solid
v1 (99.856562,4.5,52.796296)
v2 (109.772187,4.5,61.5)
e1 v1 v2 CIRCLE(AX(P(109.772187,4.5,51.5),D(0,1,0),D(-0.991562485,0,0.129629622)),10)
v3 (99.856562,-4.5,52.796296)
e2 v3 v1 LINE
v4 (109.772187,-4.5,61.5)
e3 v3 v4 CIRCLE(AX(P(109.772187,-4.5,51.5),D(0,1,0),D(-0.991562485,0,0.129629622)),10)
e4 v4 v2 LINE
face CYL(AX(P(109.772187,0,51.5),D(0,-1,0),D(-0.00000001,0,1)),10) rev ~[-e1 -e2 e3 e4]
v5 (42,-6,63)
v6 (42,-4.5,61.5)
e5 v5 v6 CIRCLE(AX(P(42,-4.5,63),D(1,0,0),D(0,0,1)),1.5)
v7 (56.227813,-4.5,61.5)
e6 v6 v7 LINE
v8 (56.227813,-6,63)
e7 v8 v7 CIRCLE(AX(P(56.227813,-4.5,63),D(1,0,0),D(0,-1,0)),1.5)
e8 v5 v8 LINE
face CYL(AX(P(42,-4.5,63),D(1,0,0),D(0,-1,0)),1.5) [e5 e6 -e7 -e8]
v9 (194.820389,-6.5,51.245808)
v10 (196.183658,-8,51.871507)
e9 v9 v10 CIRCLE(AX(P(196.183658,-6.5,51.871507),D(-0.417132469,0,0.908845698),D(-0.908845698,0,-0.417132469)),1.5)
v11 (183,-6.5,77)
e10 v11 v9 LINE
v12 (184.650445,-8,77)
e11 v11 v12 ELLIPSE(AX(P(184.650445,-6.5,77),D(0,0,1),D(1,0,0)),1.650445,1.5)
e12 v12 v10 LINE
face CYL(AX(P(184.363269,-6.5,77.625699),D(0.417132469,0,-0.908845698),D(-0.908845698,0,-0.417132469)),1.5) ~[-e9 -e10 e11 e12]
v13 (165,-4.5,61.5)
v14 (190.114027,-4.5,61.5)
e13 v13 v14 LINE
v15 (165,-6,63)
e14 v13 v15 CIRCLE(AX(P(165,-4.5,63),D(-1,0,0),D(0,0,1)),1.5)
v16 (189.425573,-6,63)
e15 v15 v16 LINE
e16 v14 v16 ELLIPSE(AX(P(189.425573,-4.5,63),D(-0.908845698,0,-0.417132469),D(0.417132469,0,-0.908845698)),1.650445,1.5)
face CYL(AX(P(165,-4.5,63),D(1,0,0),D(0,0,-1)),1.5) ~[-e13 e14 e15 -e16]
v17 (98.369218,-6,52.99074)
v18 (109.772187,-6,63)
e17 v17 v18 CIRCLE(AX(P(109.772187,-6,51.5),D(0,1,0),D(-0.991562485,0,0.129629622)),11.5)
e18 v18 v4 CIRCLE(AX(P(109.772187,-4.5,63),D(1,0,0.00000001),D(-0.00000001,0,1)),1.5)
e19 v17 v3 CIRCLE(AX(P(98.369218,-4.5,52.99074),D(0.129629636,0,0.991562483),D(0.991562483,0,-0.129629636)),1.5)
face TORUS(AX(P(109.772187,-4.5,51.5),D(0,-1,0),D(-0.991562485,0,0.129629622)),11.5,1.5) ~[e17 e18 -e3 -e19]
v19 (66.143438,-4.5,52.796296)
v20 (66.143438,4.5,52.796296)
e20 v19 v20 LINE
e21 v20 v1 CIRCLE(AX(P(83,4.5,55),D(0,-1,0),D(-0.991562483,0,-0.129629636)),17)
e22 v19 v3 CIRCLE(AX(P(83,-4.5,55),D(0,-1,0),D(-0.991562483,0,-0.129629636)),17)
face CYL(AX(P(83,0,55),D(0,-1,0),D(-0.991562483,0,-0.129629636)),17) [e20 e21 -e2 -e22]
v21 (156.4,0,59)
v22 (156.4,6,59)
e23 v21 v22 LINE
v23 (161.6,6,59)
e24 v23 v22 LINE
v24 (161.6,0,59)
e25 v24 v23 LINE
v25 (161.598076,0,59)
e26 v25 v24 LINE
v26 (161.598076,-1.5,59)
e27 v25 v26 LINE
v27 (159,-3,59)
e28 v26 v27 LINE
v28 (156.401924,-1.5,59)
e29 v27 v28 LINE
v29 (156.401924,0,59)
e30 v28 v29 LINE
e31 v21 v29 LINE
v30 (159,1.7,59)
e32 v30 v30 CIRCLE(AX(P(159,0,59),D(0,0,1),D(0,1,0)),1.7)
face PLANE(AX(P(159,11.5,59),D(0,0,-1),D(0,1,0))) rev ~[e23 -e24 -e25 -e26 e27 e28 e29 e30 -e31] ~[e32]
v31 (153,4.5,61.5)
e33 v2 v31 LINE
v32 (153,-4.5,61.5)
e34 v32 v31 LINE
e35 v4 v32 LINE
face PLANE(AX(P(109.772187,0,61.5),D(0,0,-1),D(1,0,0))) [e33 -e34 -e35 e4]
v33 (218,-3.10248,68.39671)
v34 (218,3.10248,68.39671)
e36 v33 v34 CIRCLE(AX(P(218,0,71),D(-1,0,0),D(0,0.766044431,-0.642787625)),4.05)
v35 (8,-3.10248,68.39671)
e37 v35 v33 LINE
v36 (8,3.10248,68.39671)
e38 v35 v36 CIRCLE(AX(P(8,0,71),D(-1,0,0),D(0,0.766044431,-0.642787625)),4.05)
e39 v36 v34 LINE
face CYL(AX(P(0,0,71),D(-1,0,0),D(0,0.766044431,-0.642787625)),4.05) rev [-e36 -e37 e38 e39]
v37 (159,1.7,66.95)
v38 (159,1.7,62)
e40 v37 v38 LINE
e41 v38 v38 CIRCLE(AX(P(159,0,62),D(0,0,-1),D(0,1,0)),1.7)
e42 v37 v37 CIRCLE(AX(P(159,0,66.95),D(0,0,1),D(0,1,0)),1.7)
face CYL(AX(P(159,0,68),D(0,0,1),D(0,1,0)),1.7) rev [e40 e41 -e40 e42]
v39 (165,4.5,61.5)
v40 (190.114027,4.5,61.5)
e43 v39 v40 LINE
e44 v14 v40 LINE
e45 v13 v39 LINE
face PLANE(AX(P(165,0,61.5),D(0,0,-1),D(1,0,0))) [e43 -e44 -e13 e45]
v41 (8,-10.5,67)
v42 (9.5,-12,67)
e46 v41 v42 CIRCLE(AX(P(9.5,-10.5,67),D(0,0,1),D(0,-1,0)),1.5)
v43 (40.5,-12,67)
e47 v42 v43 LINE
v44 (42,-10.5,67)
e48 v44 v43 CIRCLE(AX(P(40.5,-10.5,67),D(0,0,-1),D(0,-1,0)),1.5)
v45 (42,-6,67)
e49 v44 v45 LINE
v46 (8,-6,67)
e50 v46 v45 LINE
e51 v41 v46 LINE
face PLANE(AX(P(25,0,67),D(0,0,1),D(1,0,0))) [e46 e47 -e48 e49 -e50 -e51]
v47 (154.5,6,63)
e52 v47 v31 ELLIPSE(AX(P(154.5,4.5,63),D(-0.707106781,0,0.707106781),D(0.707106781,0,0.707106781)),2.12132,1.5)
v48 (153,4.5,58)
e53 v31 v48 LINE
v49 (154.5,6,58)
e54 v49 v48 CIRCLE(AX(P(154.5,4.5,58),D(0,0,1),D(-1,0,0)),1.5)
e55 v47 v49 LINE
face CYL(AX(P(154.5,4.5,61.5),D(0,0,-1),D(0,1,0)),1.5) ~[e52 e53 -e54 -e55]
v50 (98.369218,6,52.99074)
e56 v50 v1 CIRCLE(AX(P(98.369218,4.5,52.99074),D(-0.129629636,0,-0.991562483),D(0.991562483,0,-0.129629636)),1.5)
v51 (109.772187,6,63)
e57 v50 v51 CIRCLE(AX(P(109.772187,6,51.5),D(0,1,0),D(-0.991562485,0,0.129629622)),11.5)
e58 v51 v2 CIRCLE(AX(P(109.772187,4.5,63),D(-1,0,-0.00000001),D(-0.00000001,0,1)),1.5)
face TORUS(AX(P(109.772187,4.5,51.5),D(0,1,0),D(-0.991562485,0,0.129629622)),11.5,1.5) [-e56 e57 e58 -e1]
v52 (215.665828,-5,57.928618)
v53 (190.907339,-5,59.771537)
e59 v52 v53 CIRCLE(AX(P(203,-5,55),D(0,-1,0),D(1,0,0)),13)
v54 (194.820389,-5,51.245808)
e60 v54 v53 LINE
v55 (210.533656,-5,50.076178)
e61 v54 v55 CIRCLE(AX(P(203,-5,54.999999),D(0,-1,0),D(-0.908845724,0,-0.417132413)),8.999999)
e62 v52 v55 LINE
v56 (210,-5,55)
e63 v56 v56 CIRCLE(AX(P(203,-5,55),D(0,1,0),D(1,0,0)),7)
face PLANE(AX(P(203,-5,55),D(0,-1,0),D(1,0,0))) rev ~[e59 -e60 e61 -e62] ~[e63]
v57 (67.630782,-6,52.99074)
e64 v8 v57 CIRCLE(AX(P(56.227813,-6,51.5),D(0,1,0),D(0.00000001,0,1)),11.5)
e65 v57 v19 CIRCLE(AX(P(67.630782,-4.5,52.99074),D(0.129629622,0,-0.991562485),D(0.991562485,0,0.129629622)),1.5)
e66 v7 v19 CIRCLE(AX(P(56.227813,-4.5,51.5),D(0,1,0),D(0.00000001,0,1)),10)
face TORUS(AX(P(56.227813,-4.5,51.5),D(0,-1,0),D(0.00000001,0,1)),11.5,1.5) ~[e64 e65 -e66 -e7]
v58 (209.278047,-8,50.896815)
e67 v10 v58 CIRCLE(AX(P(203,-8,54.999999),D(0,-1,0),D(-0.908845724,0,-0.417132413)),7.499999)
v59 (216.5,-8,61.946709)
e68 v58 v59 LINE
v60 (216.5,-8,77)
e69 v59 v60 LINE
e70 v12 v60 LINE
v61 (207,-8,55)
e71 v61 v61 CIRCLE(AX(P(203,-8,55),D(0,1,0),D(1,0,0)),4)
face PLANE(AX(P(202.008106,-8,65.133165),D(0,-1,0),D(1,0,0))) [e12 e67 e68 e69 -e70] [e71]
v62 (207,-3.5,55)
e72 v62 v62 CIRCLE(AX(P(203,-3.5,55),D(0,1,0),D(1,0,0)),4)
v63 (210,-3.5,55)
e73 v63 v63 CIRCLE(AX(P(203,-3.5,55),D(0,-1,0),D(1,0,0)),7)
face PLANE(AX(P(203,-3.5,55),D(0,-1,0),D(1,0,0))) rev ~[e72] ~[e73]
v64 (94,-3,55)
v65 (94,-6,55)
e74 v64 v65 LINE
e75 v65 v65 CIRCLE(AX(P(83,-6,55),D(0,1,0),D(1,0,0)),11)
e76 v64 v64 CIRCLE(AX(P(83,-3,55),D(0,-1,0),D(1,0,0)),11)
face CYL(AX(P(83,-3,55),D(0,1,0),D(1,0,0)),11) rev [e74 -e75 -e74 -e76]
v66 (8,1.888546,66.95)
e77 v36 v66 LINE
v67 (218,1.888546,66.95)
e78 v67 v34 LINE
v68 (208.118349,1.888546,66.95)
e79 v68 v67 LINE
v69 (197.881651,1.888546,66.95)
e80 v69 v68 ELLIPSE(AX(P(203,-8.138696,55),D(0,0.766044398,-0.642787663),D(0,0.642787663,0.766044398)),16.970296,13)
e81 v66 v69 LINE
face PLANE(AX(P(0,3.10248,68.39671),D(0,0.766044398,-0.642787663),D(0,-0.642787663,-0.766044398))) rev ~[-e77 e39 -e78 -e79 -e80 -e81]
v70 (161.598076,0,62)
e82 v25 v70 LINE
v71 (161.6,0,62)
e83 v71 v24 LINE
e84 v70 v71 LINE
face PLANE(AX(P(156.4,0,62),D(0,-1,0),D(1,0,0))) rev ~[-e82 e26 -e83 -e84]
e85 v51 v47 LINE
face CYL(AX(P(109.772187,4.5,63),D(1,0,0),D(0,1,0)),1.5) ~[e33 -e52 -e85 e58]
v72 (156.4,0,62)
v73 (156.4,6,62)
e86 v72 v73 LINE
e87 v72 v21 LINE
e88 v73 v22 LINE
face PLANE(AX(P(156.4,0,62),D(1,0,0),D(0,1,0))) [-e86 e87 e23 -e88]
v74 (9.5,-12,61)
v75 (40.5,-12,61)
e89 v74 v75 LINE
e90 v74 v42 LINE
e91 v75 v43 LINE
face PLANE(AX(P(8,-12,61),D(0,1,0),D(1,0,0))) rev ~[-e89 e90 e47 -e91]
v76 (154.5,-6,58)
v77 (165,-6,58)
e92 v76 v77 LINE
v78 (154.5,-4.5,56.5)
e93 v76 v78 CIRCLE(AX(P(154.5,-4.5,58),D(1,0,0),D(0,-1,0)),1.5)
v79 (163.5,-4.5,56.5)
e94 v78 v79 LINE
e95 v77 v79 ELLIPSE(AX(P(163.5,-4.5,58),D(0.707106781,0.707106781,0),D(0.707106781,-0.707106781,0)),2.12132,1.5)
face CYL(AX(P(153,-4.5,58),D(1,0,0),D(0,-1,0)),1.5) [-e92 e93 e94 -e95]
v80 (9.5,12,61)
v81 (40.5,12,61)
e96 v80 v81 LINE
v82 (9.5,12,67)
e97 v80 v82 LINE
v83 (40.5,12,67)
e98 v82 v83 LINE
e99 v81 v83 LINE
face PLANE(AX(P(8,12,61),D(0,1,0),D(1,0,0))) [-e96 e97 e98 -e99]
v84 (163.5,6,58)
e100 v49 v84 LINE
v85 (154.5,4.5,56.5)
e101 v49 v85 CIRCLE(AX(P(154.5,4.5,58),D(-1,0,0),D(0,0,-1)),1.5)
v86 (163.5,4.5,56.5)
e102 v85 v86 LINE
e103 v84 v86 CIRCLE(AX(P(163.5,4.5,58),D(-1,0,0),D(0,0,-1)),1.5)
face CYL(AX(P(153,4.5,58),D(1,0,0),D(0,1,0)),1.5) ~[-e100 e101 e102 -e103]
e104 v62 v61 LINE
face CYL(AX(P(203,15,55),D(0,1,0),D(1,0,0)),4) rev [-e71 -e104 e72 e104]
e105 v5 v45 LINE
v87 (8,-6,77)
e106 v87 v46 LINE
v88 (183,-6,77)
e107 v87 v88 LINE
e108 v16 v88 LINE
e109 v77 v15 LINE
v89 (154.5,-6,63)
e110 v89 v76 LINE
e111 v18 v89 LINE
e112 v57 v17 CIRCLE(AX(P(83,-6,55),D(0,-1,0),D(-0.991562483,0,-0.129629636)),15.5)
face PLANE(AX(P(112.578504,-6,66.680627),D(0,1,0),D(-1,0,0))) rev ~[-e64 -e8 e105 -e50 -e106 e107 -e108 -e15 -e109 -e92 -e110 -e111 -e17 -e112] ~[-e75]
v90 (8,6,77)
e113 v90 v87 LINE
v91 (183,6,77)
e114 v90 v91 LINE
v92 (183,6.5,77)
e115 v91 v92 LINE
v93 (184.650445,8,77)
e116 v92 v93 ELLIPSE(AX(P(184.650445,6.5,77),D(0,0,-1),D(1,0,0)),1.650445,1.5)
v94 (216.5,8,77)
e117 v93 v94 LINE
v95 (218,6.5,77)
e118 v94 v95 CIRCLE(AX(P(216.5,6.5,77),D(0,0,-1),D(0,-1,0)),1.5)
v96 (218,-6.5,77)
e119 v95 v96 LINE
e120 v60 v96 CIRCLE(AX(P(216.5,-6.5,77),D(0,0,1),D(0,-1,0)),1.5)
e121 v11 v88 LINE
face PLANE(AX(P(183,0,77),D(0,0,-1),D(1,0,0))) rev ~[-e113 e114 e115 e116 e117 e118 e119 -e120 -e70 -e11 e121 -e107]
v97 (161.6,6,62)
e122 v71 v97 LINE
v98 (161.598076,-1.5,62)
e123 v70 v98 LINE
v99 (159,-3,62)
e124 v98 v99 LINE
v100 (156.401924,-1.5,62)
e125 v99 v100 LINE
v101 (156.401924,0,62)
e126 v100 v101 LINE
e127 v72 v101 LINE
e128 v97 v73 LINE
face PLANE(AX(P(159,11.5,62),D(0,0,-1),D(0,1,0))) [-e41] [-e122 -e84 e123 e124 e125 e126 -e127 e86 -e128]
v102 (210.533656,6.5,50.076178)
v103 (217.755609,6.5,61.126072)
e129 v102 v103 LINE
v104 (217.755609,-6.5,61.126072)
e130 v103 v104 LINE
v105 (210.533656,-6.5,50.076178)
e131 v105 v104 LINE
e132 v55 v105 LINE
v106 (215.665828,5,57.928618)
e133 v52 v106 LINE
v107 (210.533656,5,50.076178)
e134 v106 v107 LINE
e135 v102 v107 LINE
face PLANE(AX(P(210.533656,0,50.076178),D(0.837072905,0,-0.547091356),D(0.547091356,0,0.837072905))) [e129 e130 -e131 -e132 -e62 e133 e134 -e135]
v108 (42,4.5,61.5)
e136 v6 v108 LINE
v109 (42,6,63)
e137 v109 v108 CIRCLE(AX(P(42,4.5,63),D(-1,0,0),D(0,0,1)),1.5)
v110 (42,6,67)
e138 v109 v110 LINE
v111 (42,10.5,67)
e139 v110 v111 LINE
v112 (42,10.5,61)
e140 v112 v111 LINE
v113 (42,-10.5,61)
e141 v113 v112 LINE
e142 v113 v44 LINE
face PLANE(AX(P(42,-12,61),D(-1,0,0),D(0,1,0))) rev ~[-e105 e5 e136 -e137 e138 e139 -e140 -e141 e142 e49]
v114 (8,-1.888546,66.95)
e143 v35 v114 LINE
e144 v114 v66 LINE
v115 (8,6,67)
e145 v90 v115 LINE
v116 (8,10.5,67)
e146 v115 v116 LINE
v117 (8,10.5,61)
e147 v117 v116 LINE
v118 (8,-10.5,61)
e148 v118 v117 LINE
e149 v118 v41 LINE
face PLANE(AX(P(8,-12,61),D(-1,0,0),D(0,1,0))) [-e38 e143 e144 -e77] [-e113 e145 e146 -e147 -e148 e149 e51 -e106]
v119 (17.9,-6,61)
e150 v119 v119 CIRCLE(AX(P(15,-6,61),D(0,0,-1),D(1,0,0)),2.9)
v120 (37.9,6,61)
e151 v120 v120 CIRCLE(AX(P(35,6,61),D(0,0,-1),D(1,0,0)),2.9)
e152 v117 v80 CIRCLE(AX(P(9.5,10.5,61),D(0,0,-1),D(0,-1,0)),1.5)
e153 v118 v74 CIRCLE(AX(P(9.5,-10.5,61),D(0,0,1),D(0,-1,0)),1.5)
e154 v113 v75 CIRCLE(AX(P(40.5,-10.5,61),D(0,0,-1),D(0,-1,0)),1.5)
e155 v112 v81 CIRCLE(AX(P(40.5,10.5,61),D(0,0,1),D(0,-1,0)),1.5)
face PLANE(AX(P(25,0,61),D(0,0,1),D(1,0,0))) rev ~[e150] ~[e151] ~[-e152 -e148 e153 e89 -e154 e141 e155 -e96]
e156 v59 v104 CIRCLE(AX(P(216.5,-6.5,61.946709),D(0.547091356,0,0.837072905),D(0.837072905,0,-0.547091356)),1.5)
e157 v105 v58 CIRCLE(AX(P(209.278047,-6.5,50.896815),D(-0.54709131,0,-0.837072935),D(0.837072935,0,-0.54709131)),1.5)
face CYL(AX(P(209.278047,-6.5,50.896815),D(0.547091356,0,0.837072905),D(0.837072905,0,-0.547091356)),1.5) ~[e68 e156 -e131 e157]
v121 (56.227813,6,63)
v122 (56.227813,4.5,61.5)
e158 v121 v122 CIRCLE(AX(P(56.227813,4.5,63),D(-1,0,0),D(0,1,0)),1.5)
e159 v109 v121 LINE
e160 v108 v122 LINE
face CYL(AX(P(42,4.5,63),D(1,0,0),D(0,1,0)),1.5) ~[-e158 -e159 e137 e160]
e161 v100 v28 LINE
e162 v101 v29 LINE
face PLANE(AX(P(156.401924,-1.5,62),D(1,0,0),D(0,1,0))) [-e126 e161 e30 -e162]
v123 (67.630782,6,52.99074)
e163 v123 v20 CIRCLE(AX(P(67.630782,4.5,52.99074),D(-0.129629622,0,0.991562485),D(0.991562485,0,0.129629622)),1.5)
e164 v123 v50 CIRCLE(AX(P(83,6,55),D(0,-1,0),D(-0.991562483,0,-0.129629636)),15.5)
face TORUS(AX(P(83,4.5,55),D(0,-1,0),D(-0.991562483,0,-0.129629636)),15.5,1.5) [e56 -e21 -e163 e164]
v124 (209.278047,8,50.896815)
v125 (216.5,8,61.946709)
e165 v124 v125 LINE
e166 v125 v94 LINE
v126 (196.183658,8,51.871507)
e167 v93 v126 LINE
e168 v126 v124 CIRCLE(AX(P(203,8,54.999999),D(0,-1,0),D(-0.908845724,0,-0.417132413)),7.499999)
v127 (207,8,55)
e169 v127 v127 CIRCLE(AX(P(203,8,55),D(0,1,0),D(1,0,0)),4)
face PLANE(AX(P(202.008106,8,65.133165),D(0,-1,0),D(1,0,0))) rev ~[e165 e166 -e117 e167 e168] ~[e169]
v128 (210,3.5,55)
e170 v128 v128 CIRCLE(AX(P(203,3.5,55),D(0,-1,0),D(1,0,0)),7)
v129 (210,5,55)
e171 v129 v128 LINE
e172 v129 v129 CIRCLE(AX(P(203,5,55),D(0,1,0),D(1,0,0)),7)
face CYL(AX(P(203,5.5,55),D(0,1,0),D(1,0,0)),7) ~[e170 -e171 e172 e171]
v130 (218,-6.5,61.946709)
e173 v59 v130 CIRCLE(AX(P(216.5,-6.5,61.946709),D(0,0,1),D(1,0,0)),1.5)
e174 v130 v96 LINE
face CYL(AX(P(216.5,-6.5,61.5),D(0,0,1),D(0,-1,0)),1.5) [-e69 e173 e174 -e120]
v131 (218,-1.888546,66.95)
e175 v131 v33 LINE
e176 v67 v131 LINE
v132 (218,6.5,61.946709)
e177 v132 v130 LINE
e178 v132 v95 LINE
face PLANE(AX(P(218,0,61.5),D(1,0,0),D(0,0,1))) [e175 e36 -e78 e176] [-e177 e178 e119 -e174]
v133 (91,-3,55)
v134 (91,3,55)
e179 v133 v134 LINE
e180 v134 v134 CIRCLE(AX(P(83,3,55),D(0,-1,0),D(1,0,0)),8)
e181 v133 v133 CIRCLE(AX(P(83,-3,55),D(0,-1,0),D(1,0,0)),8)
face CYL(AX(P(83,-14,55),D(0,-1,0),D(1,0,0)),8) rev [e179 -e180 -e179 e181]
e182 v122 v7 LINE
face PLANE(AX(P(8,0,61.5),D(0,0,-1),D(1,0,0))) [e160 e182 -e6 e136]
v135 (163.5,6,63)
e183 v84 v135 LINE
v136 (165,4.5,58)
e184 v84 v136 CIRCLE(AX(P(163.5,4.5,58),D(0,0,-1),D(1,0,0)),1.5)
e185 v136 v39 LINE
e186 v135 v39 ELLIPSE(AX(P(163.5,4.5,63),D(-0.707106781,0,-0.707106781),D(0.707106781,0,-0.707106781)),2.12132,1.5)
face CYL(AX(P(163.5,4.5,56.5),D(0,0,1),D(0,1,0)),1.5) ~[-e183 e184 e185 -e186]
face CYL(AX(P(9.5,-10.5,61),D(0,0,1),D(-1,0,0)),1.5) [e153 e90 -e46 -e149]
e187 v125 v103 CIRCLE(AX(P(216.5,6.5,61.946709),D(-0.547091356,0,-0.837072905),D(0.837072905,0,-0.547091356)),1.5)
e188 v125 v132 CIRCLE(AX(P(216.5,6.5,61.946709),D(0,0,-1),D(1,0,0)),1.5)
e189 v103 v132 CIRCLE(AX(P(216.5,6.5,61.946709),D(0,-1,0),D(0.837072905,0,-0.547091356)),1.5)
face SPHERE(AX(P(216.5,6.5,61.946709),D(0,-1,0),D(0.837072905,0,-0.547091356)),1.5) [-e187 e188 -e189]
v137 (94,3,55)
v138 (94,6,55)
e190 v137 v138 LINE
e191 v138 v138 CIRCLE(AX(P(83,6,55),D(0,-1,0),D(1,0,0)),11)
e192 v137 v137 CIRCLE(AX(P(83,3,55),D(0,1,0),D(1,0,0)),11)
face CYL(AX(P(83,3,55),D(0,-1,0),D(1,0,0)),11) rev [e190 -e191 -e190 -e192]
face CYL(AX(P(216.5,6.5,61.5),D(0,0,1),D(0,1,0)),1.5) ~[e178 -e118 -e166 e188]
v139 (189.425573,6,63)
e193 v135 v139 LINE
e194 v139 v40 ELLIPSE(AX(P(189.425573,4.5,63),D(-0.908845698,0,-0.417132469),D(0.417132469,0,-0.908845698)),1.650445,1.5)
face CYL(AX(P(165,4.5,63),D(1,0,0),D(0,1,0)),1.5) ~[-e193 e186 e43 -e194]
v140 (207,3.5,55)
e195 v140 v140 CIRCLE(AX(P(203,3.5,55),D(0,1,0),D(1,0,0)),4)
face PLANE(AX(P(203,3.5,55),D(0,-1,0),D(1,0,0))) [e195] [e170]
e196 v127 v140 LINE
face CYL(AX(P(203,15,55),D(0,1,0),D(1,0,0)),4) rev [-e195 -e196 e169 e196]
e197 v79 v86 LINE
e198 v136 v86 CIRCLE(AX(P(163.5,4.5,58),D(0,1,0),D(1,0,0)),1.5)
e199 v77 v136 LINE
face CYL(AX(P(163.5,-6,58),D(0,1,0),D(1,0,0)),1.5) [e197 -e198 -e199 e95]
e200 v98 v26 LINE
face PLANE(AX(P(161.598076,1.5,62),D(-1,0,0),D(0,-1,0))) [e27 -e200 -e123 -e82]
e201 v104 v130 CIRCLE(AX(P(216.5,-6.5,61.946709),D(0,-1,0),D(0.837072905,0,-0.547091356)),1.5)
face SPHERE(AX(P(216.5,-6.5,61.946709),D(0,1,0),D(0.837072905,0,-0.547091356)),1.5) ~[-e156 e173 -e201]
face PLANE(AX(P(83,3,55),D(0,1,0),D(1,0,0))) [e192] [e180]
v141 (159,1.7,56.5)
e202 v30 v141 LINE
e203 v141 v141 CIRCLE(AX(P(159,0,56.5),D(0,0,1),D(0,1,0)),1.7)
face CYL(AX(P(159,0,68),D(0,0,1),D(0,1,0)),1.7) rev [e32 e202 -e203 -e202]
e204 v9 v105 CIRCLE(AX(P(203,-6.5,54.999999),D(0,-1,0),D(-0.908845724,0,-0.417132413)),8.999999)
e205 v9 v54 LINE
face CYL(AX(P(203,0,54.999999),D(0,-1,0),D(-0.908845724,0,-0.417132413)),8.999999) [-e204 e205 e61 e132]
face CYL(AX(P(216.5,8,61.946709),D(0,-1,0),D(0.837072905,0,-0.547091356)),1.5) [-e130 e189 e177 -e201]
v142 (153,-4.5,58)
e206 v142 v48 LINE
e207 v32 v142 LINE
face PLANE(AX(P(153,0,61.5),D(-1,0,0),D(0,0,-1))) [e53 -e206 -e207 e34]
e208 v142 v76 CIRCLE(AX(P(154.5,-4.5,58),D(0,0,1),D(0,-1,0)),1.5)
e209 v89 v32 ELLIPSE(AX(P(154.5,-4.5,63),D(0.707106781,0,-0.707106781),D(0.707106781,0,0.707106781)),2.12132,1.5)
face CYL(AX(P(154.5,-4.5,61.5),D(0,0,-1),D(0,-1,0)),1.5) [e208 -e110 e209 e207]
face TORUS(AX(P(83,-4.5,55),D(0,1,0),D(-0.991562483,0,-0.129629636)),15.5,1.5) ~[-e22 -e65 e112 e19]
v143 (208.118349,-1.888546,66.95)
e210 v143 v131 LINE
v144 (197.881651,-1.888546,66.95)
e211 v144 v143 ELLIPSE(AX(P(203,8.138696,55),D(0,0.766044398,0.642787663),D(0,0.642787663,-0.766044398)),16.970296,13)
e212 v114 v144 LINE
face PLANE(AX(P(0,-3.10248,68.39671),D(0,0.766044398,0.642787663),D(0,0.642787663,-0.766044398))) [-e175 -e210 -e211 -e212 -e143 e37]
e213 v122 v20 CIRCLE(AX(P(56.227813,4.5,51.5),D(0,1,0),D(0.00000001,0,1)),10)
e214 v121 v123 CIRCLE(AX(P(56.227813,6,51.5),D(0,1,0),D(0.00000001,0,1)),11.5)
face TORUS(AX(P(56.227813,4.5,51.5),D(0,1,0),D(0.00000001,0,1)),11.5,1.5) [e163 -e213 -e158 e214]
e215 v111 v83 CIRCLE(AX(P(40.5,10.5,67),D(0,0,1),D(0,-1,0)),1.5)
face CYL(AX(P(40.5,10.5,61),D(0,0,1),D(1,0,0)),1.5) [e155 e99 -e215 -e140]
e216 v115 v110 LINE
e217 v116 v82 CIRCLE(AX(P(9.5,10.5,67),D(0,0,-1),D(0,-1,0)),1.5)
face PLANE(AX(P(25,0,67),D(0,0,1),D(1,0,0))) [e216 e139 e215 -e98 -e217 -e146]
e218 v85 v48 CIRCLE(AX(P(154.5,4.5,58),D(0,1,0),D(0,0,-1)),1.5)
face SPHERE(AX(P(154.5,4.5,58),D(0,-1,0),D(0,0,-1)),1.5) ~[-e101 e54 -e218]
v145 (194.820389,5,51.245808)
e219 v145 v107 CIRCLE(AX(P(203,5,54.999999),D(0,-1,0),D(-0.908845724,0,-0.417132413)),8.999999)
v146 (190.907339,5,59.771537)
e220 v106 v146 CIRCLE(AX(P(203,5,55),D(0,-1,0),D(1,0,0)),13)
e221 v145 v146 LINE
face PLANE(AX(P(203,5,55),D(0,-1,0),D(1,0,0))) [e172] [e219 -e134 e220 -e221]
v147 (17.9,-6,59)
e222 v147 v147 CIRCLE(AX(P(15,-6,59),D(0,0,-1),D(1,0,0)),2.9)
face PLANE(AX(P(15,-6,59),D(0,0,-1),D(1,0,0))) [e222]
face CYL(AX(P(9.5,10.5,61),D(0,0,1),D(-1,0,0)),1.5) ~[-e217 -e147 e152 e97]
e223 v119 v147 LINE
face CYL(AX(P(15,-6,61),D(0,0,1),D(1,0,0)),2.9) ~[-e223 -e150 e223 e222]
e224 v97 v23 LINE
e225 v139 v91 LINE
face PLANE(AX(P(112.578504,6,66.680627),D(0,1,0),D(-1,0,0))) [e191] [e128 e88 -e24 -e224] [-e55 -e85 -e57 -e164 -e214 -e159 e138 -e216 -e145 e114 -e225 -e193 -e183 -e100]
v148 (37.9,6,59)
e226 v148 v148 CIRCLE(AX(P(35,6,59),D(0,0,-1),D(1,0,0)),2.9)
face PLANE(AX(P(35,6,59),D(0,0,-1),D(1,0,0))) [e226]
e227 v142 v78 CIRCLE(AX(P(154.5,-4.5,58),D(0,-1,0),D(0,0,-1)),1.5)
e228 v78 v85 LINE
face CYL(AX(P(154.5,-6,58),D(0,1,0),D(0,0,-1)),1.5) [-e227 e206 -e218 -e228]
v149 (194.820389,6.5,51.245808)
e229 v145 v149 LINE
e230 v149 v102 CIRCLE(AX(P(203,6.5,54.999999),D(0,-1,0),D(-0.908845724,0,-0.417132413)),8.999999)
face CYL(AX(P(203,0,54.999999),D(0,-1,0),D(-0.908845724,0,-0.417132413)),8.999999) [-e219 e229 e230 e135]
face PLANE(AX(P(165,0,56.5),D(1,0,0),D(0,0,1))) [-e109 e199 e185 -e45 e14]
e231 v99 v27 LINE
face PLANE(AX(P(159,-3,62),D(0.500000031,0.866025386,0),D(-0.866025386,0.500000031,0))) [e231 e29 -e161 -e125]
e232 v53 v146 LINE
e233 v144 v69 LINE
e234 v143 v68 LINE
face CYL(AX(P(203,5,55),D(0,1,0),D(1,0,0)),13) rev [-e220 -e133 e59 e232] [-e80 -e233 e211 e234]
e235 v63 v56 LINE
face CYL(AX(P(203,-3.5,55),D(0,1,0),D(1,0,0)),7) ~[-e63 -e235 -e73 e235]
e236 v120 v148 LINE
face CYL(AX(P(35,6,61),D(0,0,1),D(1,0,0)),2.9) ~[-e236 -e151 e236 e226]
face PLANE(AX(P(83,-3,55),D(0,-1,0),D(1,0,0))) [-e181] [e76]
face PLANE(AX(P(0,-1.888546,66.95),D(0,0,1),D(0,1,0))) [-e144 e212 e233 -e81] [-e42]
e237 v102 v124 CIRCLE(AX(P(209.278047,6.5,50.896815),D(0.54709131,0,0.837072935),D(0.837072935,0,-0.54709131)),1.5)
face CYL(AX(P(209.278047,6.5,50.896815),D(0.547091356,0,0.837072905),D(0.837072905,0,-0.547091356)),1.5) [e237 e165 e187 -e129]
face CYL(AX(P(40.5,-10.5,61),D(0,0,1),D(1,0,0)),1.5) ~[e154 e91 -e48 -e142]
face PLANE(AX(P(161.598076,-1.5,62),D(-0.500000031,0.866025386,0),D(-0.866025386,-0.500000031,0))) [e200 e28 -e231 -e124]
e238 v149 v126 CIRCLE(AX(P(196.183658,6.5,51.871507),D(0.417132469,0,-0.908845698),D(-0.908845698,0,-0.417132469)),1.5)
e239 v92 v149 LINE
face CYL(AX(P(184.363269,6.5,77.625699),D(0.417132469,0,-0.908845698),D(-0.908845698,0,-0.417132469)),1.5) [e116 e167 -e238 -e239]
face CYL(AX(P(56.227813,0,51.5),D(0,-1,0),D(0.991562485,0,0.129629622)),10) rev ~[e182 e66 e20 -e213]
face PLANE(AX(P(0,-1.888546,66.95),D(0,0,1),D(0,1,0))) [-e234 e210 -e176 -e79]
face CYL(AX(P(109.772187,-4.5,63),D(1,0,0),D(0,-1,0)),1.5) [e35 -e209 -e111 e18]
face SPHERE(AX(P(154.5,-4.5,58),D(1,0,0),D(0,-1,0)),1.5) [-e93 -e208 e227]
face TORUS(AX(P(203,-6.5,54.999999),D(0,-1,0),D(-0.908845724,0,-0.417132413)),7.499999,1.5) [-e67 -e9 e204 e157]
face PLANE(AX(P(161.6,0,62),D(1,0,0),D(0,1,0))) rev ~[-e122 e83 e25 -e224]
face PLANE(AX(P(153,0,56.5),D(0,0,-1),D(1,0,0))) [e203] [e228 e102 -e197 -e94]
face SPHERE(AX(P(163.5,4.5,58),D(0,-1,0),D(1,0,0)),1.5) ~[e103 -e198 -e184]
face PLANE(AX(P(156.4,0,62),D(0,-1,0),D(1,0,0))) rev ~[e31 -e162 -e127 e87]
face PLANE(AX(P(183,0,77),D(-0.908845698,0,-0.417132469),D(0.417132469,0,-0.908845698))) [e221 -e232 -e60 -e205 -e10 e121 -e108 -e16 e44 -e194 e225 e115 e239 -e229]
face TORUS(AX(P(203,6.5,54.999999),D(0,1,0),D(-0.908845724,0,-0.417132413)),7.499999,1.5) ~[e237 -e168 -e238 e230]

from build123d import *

# Parameters (mm, degrees)
CYLINDER002_R             = 11
CYLINDER002_DEPTH         = 10
CYLINDER003_R             = 8
CYLINDER003_DEPTH         = 28
CYLINDER004_R             = 11
CYLINDER004_DEPTH         = 10
CYLINDER015_R             = 4
CYLINDER015_DEPTH         = 31
CYLINDER017_R             = 7
CYLINDER017_DEPTH         = 2
CYLINDER016_R             = 7
CYLINDER016_DEPTH         = 2
CYLINDER013_R             = 13
CYLINDER013_DEPTH         = 10
CYLINDER023_R             = 1.7
CYLINDER023_DEPTH         = 21
BOX004_W                  = 23
BOX004_H                  = 5.2
BOX004_DEPTH              = 3
PRISM001_DEPTH            = 3
FUSION007_ROLL_ANGLE      = 180
FUSION007_PLACEMENT_ANGLE = 90
EXTRUDE003_DEPTH          = 275
CYLINDER001_R             = 11
CYLINDER001_DEPTH         = 10
BOX001_W                  = 34
BOX001_H                  = 24
BOX001_DEPTH              = 6
EXTRUDE002_DEPTH          = 8
CYLINDER018_R             = 2.9
CYLINDER018_DEPTH         = 2
CYLINDER019_R             = 2.9
CYLINDER019_DEPTH         = 2
EXTRUDE001_DEPTH          = 6
FILLET002_R               = 1.5


with BuildPart() as cilindro002:
    # Cylinder002 → Cylinder002 (new body)
    with BuildSketch(Plane(origin=(83, 3, 55), x_dir=(1, 0, 0), z_dir=(0, 1, 0))):
        Circle(CYLINDER002_R)
    extrude(amount=CYLINDER002_DEPTH)


with BuildPart() as cilindro003:
    # Cylinder003 → Cylinder003 (new body)
    with BuildSketch(Plane(origin=(83, -14, 55), x_dir=(1, 0, 0), z_dir=(0, 1, 0))):
        Circle(CYLINDER003_R)
    extrude(amount=CYLINDER003_DEPTH)


with BuildPart() as cilindro004:
    # Cylinder004 → Cylinder004 (new body)
    with BuildSketch(Plane(origin=(83, -3, 55), x_dir=(1, 0, 0), z_dir=(0, -1, 0))):
        Circle(CYLINDER004_R)
    extrude(amount=CYLINDER004_DEPTH)


with BuildPart() as cilindro015:
    # Cylinder015 → Cylinder015 (new body)
    with BuildSketch(Plane(origin=(203, 15, 55), x_dir=(1, 0, 0), z_dir=(0, -1, 0))):
        Circle(CYLINDER015_R)
    extrude(amount=CYLINDER015_DEPTH)


with BuildPart() as cilindro017:
    # Cylinder017 → Cylinder017 (new body)
    with BuildSketch(Plane(origin=(203, -3.5, 55), x_dir=(1, 0, 0), z_dir=(0, -1, 0))):
        Circle(CYLINDER017_R)
    extrude(amount=CYLINDER017_DEPTH)


with BuildPart() as fusion004:
    # Cylinder016 → Cylinder016 (new body)
    with BuildSketch(Plane(origin=(203, 5.5, 55), x_dir=(1, 0, 0), z_dir=(0, -1, 0))):
        Circle(CYLINDER016_R)
    extrude(amount=CYLINDER016_DEPTH)

    # Fusion004: union Cilindro017
    add(cilindro017.part)


with BuildPart() as cut005:
    # Cylinder013 → Cylinder013 (new body)
    with BuildSketch(Plane(origin=(203, 5, 55), x_dir=(1, 0, 0), z_dir=(0, -1, 0))):
        Circle(CYLINDER013_R)
    extrude(amount=CYLINDER013_DEPTH)

    # Cut005: cut Fusion004
    add(fusion004.part, mode=Mode.SUBTRACT)


with BuildPart() as cilindro023:
    # Cylinder023 → Cylinder023 (new body)
    with BuildSketch(Plane.XY.offset(-6)):
        Circle(CYLINDER023_R)
    extrude(amount=CYLINDER023_DEPTH)


with BuildPart() as cubo004:
    # Box004 → Box004 (new body)
    with BuildSketch(Plane(origin=(0, -2.6, 0), x_dir=(1, 0, 0), z_dir=(0, 0, 1))):
        with Locations((11.5, 2.6)):
            Rectangle(BOX004_W, BOX004_H)
    extrude(amount=BOX004_DEPTH)


with BuildPart() as hueco_tornillo001:
    # Prism001 → Prism001 (new body)
    with BuildSketch(Plane.XY):
        Polygon((3, 0), (1.5, 2.598076), (-1.5, 2.598076), (-3, 0), (-1.5, -2.598076), (1.5, -2.598076), align=None)
    extrude(amount=PRISM001_DEPTH)

    # Fusion007: union Cilindro023, Cubo004
    add(cilindro023.part)
    add(cubo004.part)


with BuildPart() as hueco_tornillo001_1:
    # Fusion007 roll: moved
    add(hueco_tornillo001.part.rotate(Axis((0, 0, 0), (1, 0, 0)), FUSION007_ROLL_ANGLE))


with BuildPart() as hueco_tornillo001_2:
    # Fusion007 placement: moved
    add(hueco_tornillo001_1.part.moved(Location((159, 0, 62))).rotate(Axis((159, 0, 62), (0, 0, 1)), FUSION007_PLACEMENT_ANGLE))


with BuildPart() as extrude003:
    # Sketch003 → Extrude003 (new body)
    with BuildSketch(Plane.YZ):
        with BuildLine():
            ThreePointArc((3.10248, -2.60329), (0, 4.05), (-3.10248, -2.60329))
            Line((-3.10248, -2.60329), (-1.888546, -4.05))
            Line((-1.888546, -4.05), (0, -4.05))
            Line((0, -4.05), (1.888546, -4.05))
            Line((3.10248, -2.60329), (1.888546, -4.05))
        make_face()
    extrude(amount=EXTRUDE003_DEPTH)


with BuildPart() as extrude003_1:
    # Extrude003 placement: moved
    add(extrude003.part.moved(Location((0, 0, 71))))


with BuildPart() as fusion:
    # Cylinder001 → Cylinder001 (new body)
    with BuildSketch(Plane(origin=(83, -3, 55), x_dir=(1, 0, 0), z_dir=(0, -1, 0))):
        Circle(CYLINDER001_R)
    extrude(amount=CYLINDER001_DEPTH)

    # Fusion: union Cilindro002, Cilindro003, Cilindro004, Cilindro015, Cut005, hueco_tornillo001, Extrude003
    add(cilindro002.part)
    add(cilindro003.part)
    add(cilindro004.part)
    add(cilindro015.part)
    add(cut005.part)
    add(hueco_tornillo001_2.part)
    add(extrude003_1.part)


with BuildPart() as cubo001:
    # Box001 → Box001 (new body)
    with BuildSketch(Plane(origin=(8, -12, 61), x_dir=(1, 0, 0), z_dir=(0, 0, 1))):
        with Locations((17, 12)):
            Rectangle(BOX001_W, BOX001_H)
    extrude(amount=BOX001_DEPTH)


with BuildPart() as extrude002:
    # Sketch002 → Extrude002 (new body, symmetric)
    with BuildSketch(Plane.XZ):
        with BuildLine():
            ThreePointArc((194.820389, 51.245808), (202.331926, 46.02483), (210.533656, 50.076178))
            Line((210.533656, 50.076178), (218, 61.5))
            Line((218, 61.5), (218, 77))
            Line((203, 77), (218, 77))
            Line((183, 77), (203, 77))
            Line((183, 77), (194.820389, 51.245808))
        make_face()
    extrude(amount=EXTRUDE002_DEPTH, both=True)


with BuildPart() as cilindro018:
    # Cylinder018 → Cylinder018 (new body)
    with BuildSketch(Plane(origin=(35, 6, 61), x_dir=(1, 0, 0), z_dir=(0, 0, -1))):
        Circle(CYLINDER018_R)
    extrude(amount=CYLINDER018_DEPTH)


with BuildPart() as cilindro019:
    # Cylinder019 → Cylinder019 (new body)
    with BuildSketch(Plane(origin=(15, -6, 61), x_dir=(1, 0, 0), z_dir=(0, 0, -1))):
        Circle(CYLINDER019_R)
    extrude(amount=CYLINDER019_DEPTH)


with BuildPart() as fillet002:
    # Sketch001 → Extrude001 (new body, symmetric)
    with BuildSketch(Plane.XZ):
        with BuildLine():
            Line((8, 77), (218, 77))
            Line((218, 77), (218, 61.5))
            Line((165, 61.5), (218, 61.5))
            Line((165, 56.5), (165, 61.5))
            Line((153, 56.5), (165, 56.5))
            Line((153, 61.5), (153, 56.5))
            Line((109.772187, 61.5), (153, 61.5))
            ThreePointArc((109.772187, 61.5), (103.17533, 59.015416), (99.856562, 52.796296))
            ThreePointArc((66.143438, 52.796296), (83, 38), (99.856562, 52.796296))
            ThreePointArc((66.143438, 52.796296), (62.82467, 59.015416), (56.227813, 61.5))
            Line((8, 61.5), (56.227813, 61.5))
            Line((8, 77), (8, 61.5))
        make_face()
    extrude(amount=EXTRUDE001_DEPTH, both=True)

    # Fusion001: union Cubo001, Extrude002, Cilindro018, Cilindro019
    add(cubo001.part)
    add(extrude002.part)
    add(cilindro018.part)
    add(cilindro019.part)

    # Cut: cut Fusion
    add(fusion.part, mode=Mode.SUBTRACT)

    # Fillet002
    fillet002_edges = [fillet002.edges().sort_by_distance(p)[0] for p in [
        (177.557014, -6, 61.5),
        (49.113906, -6, 61.5),
        (62.82467, -6, 59.015416),
        (159, -6, 56.5),
        (83, -6, 38),
        (153, -6, 59),
        (103.17533, -6, 59.015416),
        (131.386094, -6, 61.5),
        (8, 12, 64),
        (8, -12, 64),
        (188.910194, 8, 64.122904),
        (188.910194, -8, 64.122904),
        (42, 12, 64),
        (42, -12, 64),
        (177.557014, 6, 61.5),
        (49.113906, 6, 61.5),
        (165, 0, 56.5),
        (165, 6, 59),
        (62.82467, 6, 59.015416),
        (153, 0, 56.5),
        (159, 6, 56.5),
        (83, 6, 38),
        (153, 6, 59),
        (103.17533, 6, 59.015416),
        (131.386094, 6, 61.5),
        (202.331926, -8, 46.02483),
        (218, -8, 69.25),
        (214.266828, -8, 55.788089),
        (218, 8, 69.25),
        (218, 0, 61.5),
        (202.331926, 8, 46.02483),
        (214.266828, 8, 55.788089),
    ]]
    fillet(fillet002_edges, radius=FILLET002_R)


solid = fillet002.part
